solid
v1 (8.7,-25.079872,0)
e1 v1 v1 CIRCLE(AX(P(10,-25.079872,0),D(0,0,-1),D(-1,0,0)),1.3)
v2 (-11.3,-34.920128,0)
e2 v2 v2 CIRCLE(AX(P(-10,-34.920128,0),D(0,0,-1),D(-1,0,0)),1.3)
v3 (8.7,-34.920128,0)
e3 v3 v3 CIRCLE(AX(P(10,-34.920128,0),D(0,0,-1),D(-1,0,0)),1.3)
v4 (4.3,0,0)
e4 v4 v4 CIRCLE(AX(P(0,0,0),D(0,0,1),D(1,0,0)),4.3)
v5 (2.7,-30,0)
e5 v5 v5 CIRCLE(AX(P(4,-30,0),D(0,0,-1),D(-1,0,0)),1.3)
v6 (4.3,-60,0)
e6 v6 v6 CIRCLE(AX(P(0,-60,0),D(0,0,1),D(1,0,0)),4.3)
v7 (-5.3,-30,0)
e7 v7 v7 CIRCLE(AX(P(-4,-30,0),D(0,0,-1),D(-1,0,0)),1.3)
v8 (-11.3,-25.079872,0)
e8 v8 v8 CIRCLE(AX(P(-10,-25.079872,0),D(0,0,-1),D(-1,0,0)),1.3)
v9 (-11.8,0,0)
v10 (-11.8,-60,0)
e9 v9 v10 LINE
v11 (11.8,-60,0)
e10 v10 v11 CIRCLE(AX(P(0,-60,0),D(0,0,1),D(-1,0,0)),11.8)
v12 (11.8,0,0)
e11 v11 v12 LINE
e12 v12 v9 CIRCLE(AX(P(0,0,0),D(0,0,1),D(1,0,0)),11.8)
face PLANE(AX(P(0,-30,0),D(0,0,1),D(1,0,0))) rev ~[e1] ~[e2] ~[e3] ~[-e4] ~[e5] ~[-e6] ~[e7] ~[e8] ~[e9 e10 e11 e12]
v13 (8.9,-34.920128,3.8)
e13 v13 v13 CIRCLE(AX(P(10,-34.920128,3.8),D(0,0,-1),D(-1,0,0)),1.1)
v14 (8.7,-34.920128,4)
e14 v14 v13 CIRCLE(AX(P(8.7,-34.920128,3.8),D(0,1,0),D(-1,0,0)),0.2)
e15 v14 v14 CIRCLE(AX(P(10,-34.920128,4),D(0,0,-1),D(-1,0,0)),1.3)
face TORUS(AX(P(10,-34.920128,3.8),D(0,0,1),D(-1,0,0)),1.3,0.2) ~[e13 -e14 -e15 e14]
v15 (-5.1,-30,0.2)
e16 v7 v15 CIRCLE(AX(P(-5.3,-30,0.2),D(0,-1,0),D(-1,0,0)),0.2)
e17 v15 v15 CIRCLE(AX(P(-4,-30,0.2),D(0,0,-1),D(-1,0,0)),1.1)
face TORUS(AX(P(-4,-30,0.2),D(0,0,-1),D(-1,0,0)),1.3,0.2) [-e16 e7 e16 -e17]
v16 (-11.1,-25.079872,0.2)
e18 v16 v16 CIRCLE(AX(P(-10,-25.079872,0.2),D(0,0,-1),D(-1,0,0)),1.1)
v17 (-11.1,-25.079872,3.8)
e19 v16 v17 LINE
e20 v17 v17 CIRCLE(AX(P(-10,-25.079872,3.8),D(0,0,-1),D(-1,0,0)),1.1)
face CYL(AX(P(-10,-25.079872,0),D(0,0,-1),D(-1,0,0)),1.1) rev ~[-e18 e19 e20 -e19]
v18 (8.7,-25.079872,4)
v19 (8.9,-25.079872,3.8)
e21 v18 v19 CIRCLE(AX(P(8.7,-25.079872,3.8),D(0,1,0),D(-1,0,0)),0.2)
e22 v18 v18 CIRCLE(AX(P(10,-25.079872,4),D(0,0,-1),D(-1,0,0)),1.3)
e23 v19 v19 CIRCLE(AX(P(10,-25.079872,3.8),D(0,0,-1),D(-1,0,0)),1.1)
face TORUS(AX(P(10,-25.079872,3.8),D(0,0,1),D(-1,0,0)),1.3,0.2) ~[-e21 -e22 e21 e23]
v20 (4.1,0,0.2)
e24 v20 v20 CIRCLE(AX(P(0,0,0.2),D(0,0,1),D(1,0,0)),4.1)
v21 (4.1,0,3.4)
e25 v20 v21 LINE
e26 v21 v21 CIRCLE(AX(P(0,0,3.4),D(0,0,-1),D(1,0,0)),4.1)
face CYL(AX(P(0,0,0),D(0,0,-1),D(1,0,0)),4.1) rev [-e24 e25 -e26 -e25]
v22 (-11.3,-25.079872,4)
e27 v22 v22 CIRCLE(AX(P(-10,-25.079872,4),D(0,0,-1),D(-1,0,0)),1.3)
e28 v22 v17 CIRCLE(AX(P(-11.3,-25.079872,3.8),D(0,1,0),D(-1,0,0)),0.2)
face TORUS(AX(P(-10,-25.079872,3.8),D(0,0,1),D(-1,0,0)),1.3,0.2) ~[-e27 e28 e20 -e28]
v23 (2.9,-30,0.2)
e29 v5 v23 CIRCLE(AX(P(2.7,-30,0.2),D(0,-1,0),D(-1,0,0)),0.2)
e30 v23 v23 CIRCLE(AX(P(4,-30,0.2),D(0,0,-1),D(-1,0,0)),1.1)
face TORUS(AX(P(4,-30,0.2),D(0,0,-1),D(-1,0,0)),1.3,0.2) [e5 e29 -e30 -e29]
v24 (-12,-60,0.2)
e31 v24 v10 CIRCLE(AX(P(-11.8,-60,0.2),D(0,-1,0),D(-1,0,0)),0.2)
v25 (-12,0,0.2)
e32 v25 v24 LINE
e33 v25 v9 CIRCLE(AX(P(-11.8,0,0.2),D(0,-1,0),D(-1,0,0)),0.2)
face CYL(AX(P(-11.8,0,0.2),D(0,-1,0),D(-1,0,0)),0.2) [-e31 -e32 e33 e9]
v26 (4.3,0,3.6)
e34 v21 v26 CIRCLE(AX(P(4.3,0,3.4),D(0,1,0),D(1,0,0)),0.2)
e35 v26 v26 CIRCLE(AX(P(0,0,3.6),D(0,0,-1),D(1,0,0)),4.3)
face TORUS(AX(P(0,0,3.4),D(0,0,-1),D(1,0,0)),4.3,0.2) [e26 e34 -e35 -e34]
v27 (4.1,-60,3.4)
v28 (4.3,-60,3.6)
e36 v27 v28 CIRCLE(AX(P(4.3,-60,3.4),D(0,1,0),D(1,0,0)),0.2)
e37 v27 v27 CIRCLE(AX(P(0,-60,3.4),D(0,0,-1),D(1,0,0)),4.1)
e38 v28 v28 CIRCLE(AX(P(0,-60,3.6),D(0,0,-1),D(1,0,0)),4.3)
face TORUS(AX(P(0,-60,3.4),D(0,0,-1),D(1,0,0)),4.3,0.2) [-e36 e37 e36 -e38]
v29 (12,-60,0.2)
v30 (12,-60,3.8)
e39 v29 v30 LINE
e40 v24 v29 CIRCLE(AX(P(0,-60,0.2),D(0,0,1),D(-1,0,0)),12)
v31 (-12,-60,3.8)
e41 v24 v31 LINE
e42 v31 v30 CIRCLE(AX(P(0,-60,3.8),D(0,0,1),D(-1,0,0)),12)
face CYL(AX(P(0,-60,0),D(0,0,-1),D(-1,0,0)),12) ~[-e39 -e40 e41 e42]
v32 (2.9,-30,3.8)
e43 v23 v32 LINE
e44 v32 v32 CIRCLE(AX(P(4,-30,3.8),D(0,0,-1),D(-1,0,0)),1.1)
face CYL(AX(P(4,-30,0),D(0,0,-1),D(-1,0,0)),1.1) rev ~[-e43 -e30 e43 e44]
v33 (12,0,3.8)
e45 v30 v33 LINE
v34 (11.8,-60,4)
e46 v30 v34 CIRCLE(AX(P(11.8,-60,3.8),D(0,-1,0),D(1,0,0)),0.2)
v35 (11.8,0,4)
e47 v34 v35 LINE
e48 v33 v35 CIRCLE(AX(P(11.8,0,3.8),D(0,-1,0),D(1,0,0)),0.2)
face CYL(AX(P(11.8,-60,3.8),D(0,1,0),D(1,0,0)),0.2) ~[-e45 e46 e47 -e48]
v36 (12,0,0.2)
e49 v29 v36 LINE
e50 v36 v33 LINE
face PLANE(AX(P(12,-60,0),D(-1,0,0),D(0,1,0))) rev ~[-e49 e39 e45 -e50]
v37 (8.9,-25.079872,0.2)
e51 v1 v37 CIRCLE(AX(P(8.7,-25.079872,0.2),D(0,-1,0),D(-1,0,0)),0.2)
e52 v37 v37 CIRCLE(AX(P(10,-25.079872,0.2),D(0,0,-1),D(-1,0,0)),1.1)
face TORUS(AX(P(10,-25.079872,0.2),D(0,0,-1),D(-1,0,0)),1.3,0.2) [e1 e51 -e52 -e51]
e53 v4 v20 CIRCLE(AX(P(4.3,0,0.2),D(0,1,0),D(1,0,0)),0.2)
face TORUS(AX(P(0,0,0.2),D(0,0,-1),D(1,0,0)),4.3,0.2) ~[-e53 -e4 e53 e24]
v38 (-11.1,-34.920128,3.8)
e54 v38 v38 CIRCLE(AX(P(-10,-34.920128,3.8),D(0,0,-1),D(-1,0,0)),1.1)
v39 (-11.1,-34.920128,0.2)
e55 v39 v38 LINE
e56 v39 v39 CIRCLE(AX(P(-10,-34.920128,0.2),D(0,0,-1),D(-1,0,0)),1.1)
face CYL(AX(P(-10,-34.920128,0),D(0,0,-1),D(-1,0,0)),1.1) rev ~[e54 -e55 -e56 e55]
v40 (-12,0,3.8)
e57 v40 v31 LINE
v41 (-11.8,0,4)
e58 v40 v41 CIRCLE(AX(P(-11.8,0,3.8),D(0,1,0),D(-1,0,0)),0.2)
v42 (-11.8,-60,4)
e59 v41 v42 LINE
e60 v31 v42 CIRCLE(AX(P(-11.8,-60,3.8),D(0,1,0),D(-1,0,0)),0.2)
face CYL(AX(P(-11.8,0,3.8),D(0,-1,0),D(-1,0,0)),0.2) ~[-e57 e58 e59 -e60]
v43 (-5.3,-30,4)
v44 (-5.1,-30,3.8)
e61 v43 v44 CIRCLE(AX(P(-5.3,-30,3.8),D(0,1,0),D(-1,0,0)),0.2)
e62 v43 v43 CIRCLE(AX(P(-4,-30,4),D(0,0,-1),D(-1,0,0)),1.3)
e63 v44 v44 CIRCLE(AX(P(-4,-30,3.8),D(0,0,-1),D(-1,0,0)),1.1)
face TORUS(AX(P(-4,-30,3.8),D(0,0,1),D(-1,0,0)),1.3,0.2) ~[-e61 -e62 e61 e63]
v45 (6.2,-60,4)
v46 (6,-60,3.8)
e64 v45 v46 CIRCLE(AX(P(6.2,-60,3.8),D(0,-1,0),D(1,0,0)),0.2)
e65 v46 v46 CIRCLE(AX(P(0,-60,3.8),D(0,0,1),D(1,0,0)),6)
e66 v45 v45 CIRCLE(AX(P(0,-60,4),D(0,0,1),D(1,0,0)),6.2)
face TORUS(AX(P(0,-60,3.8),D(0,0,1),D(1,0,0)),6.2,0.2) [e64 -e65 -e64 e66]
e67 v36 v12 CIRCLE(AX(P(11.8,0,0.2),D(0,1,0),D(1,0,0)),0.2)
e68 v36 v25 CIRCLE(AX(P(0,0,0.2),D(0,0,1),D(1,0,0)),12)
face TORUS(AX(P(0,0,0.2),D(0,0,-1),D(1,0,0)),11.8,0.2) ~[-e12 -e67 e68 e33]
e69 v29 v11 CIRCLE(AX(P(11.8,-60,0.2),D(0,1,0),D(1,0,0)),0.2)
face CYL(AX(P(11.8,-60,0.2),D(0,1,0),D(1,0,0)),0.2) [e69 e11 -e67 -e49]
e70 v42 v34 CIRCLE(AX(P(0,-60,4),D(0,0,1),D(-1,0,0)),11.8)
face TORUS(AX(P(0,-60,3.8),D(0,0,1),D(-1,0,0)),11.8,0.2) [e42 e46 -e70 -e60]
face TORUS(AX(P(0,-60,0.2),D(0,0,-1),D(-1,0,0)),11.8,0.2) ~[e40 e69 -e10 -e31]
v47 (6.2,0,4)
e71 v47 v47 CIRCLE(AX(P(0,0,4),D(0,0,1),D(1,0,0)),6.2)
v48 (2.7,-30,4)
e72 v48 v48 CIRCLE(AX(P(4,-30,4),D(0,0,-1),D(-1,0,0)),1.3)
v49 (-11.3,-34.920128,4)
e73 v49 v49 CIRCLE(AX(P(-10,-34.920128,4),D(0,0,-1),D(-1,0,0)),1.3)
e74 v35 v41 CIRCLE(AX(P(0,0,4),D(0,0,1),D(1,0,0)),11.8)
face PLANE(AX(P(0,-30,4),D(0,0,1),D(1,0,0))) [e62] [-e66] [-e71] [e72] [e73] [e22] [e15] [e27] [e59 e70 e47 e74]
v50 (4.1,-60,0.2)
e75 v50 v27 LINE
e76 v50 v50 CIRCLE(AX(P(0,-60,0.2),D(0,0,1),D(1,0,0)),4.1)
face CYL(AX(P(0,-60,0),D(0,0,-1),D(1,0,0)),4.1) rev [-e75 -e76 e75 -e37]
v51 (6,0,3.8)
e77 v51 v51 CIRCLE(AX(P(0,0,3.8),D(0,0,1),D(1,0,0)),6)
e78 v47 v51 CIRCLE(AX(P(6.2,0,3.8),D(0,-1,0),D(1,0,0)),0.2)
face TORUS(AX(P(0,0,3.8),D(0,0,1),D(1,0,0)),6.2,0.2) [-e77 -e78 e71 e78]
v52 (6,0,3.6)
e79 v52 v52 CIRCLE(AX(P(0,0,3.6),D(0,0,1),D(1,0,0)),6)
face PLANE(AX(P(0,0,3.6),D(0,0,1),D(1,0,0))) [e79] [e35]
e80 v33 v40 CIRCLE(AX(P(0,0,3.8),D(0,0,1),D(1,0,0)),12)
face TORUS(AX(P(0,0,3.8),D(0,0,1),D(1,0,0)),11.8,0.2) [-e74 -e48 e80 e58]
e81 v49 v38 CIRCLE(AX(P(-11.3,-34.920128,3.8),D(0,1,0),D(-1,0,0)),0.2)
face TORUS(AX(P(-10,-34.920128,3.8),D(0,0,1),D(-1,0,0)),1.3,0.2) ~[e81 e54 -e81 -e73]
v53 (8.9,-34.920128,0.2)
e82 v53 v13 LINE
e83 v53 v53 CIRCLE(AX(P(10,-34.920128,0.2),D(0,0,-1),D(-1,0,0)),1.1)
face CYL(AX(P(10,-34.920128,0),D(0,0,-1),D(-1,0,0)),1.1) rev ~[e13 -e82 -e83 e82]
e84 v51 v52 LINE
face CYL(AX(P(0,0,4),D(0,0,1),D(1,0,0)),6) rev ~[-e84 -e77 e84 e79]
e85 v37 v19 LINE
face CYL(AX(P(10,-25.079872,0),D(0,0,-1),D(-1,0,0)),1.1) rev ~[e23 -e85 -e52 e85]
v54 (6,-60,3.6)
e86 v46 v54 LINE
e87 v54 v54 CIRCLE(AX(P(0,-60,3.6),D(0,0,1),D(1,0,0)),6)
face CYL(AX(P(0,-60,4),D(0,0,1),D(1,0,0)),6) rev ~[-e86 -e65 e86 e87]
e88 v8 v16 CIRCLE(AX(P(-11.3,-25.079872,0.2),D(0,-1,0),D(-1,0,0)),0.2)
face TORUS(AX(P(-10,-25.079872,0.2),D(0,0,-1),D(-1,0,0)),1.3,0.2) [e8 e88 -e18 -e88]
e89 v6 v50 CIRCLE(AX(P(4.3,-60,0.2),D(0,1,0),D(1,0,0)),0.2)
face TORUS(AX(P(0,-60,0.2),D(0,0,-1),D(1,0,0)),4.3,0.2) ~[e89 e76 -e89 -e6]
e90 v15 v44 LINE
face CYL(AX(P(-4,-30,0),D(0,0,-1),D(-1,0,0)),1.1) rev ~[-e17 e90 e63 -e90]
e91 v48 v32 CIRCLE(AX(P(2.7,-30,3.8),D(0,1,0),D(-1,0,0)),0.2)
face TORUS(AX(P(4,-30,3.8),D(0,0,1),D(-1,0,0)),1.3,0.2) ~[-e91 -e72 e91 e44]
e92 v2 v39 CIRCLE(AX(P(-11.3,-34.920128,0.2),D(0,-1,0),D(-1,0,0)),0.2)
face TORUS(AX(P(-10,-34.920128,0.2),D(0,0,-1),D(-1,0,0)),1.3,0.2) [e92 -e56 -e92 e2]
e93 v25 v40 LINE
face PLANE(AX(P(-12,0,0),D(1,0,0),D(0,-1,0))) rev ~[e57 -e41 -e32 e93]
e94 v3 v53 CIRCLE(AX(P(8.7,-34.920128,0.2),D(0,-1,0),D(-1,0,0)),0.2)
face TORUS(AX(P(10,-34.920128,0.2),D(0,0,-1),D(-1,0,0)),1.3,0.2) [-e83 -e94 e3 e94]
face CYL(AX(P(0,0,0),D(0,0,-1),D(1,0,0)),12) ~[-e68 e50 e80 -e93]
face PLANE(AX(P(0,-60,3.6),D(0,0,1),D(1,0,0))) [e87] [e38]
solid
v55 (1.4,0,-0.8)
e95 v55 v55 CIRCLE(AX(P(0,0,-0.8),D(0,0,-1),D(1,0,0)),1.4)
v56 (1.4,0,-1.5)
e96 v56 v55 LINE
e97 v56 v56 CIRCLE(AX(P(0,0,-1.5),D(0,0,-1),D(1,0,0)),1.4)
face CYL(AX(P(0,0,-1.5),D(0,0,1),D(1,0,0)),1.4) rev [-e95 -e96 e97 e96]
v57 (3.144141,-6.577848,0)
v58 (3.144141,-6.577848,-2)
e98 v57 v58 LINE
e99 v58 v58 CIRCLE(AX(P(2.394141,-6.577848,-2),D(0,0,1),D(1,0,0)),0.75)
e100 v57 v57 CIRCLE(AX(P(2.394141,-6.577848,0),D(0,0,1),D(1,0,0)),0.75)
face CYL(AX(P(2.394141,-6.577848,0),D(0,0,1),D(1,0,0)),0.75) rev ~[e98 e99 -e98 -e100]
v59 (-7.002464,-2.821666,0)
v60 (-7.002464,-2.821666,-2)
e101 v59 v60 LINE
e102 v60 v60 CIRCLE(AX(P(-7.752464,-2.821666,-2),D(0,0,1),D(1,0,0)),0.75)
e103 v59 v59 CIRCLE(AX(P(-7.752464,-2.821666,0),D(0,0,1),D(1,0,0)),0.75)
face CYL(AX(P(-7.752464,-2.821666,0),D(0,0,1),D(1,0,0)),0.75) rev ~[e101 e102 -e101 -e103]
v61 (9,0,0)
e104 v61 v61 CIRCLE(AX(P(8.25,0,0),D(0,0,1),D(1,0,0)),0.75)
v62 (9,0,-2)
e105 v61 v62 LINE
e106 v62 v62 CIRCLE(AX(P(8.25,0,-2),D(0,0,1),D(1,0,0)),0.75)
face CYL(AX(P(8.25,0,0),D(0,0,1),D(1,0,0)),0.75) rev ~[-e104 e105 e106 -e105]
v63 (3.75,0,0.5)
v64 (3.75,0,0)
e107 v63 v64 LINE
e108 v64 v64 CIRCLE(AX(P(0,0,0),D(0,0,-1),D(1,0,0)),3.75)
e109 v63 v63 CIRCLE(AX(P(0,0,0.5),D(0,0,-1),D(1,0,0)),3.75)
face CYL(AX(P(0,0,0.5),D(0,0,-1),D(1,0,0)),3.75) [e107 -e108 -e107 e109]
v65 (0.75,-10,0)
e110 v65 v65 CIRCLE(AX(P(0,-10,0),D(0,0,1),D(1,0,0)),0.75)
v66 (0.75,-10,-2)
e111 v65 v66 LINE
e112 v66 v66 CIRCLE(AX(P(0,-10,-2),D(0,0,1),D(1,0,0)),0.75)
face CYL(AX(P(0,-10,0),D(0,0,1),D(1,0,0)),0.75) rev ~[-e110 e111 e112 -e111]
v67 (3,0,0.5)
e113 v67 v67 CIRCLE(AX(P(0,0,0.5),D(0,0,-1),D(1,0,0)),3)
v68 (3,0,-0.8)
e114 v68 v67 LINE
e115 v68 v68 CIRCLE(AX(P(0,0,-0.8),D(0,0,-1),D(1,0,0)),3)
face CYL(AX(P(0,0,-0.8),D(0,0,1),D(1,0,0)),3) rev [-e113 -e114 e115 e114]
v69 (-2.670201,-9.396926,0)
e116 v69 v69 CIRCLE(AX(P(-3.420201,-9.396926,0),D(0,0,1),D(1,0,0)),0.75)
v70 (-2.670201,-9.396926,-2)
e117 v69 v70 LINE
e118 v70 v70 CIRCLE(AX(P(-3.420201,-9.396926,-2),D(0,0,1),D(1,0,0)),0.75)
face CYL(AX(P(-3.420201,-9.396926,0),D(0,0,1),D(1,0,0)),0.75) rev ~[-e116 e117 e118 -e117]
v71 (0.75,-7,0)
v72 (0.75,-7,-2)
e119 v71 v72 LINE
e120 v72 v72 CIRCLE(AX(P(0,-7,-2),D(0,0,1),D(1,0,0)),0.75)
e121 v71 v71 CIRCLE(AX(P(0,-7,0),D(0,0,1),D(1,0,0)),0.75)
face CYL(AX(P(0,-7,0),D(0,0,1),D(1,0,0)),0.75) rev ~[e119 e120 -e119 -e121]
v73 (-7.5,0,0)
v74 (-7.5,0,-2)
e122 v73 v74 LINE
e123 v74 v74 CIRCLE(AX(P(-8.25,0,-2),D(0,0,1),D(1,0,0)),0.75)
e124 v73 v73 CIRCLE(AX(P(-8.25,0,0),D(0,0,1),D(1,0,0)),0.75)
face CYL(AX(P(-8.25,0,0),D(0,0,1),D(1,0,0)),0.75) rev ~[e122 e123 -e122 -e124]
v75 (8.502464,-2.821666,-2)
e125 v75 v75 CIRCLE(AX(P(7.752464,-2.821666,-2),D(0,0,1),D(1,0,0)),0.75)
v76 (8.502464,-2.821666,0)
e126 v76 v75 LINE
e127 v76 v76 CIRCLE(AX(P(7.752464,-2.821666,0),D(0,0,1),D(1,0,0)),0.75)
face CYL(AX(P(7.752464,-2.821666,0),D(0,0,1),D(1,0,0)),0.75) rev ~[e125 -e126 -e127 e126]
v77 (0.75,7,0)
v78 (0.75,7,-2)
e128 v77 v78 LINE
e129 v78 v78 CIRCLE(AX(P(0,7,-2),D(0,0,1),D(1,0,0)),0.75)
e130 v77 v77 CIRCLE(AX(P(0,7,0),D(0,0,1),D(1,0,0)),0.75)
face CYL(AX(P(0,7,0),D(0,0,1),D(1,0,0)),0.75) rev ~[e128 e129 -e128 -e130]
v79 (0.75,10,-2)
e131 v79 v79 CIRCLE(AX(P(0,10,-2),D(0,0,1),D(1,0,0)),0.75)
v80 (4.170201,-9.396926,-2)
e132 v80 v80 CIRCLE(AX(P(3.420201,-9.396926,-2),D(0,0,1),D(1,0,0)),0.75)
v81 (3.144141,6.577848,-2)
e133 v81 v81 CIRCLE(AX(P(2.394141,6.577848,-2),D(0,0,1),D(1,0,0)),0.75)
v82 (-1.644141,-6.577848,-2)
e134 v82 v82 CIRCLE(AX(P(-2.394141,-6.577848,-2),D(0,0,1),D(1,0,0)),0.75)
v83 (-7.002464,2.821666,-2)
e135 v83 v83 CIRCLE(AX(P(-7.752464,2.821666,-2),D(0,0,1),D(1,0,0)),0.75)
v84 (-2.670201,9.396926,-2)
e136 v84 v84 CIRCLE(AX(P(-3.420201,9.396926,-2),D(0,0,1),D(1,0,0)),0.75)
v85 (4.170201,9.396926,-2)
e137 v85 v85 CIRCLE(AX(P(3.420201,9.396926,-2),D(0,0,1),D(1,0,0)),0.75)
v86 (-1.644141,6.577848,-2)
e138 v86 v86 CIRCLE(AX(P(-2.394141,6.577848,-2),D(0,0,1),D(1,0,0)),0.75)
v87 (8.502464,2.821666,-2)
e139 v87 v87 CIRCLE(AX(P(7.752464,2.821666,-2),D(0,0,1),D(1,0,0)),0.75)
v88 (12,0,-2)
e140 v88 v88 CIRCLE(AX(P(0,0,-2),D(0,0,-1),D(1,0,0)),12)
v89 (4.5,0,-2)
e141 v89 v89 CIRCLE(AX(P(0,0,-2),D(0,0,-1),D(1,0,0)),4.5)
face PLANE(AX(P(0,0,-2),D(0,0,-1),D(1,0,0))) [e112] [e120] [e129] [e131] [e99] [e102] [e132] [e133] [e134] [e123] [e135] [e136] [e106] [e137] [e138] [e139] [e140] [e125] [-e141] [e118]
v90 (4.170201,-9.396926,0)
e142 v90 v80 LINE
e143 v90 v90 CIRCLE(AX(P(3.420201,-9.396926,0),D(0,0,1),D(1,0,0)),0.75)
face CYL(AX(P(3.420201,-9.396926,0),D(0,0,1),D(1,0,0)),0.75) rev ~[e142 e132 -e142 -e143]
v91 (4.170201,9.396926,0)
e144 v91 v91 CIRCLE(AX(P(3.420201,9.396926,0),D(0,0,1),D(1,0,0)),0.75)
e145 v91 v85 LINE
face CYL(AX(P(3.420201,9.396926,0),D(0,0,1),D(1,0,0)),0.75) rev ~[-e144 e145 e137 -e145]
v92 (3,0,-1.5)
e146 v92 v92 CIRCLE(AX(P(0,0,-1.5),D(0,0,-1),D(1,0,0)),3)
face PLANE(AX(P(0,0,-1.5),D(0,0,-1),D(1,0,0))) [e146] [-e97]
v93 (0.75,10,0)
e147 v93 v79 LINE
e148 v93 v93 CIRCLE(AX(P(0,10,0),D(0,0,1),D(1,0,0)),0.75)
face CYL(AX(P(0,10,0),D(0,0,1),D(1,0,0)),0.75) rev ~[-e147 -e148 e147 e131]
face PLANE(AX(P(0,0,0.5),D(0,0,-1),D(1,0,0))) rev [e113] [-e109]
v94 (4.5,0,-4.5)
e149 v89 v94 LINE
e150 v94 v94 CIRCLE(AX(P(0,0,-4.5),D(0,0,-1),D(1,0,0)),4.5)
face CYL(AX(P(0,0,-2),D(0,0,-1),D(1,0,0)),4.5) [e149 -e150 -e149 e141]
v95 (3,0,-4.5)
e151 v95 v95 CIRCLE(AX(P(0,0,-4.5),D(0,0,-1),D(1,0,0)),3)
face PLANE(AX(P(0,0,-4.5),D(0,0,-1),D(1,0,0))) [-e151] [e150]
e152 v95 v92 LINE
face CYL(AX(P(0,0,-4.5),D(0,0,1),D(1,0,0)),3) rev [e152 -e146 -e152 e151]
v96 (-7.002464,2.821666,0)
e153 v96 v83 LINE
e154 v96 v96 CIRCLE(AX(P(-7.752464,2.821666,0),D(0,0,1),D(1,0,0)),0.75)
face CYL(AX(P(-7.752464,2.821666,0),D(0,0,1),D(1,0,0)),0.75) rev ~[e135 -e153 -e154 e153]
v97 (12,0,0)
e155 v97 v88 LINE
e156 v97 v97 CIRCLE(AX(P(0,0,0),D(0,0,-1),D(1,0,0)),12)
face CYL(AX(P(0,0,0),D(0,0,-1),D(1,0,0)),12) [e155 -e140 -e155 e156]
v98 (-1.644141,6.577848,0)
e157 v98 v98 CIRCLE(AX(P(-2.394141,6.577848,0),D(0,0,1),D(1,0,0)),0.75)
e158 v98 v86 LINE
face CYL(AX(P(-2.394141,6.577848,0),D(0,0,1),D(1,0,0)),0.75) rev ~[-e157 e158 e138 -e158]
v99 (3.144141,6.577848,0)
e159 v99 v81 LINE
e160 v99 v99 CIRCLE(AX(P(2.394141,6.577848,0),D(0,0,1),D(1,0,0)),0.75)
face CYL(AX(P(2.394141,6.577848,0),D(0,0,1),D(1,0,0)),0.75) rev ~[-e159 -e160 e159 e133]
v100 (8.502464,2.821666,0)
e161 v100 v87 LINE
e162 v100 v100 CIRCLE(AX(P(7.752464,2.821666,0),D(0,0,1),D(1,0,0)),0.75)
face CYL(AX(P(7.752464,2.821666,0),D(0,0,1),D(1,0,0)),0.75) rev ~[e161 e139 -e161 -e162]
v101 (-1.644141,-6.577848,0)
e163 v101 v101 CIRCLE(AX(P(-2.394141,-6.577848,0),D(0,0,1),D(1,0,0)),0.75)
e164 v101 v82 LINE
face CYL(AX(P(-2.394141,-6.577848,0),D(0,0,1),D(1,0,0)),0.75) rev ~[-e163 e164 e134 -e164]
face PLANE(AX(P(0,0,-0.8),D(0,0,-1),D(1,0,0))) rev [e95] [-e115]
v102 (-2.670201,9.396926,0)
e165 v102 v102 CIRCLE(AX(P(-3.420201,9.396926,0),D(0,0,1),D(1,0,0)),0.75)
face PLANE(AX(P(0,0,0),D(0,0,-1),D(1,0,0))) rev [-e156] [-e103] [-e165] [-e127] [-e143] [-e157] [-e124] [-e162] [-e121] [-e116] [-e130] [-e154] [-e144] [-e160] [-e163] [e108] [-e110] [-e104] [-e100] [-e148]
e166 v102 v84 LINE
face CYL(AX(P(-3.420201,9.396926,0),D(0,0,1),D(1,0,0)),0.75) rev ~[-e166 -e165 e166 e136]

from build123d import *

# Parameters (mm, degrees)
SKETCH_2_R            = 0.75
CUT_EXTRUDE_1_DEPTH   = 18.557049866
SKETCH_1_2_R          = 4.1
EXTRUDE_1_DEPTH       = 4
SKETCH_2_2_R          = 1.1
CUT_EXTRUDE_1_2_DEPTH = 74.131730459
SKETCH_3_R            = 6
CUT_EXTRUDE_2_DEPTH   = 0.4
FILLET_1_R            = 0.2


with BuildPart() as part:
    # Sketch 1 → Повернуть1 (revolve)
    with BuildSketch(Plane(origin=(0, 0, 0), x_dir=(0, 0, -1), z_dir=(1, 0, 0)), mode=Mode.PRIVATE) as revolve_1_sk:
        Polygon((0, 3.75), (0, 12), (2, 12), (2, 4.5), (4.5, 4.5), (4.5, 3), (1.5, 3), (1.5, 1.4), (0.8, 1.4), (0.8, 3), (-0.5, 3), (-0.5, 3.75), align=None)
    revolve(revolve_1_sk.sketch.rotate(Axis((0, 0, 50), (0, 0, -1)), 90), axis=Axis((0, 0, 50), (0, 0, -1)))

    # Sketch 2 → Cut-Extrude 1 (cut, through all)
    with BuildSketch(Plane.XY):
        with Locations((8.25, 0)):
            Circle(SKETCH_2_R)
        with Locations((7.752464121, -2.821666182)):
            Circle(SKETCH_2_R)
        with Locations((7.752464121, 2.821666182)):
            Circle(SKETCH_2_R)
        with Locations((-8.25, 0)):
            Circle(SKETCH_2_R)
        with Locations((-7.752464121, -2.821666182)):
            Circle(SKETCH_2_R)
        with Locations((-7.752464121, 2.821666182)):
            Circle(SKETCH_2_R)
        with Locations((0, 7)):
            Circle(SKETCH_2_R)
        with Locations((0, 10)):
            Circle(SKETCH_2_R)
        with Locations((2.394141003, 6.577848346)):
            Circle(SKETCH_2_R)
        with Locations((3.420201433, 9.396926208)):
            Circle(SKETCH_2_R)
        with Locations((-2.394141003, 6.577848346)):
            Circle(SKETCH_2_R)
        with Locations((-3.420201433, 9.396926208)):
            Circle(SKETCH_2_R)
        with Locations((0, -7)):
            Circle(SKETCH_2_R)
        with Locations((0, -10)):
            Circle(SKETCH_2_R)
        with Locations((3.420201433, -9.396926208)):
            Circle(SKETCH_2_R)
        with Locations((2.394141003, -6.577848346)):
            Circle(SKETCH_2_R)
        with Locations((-2.394141003, -6.577848346)):
            Circle(SKETCH_2_R)
        with Locations((-3.420201433, -9.396926208)):
            Circle(SKETCH_2_R)
    extrude(amount=-CUT_EXTRUDE_1_DEPTH, mode=Mode.SUBTRACT)


with BuildPart() as body_2:
    # Sketch 1 2 → 보스-돌출1 (new body)
    with BuildSketch(Plane.XY):
        with BuildLine():
            Line((-12, 0), (-12, -60))
            ThreePointArc((-12, -60), (0, -72), (12, -60))
            Line((12, -60), (12, 0))
            ThreePointArc((12, 0), (0, 12), (-12, 0))
        make_face()
        Circle(SKETCH_1_2_R, mode=Mode.SUBTRACT)
        with Locations((0, -60)):
            Circle(SKETCH_1_2_R, mode=Mode.SUBTRACT)
    extrude(amount=EXTRUDE_1_DEPTH)

    # Sketch 2 2 → Cut-Extrude 1 2 (cut, through all)
    with BuildSketch(Plane(origin=(0, 0, 0), x_dir=(-1, 0, 0), z_dir=(0, 0, -1))):
        with Locations((-10, -25.079872408)):
            Circle(SKETCH_2_2_R)
        with Locations((-4, -30)):
            Circle(SKETCH_2_2_R)
        with Locations((4, -30)):
            Circle(SKETCH_2_2_R)
        with Locations((10, -25.079872408)):
            Circle(SKETCH_2_2_R)
        with Locations((10, -34.920127592)):
            Circle(SKETCH_2_2_R)
        with Locations((-10, -34.920127592)):
            Circle(SKETCH_2_2_R)
    extrude(amount=-CUT_EXTRUDE_1_2_DEPTH, mode=Mode.SUBTRACT)

    # 스케치3 → 컷-돌출2 (cut)
    with BuildSketch(Plane.XY.offset(4)):
        Circle(SKETCH_3_R)
        with Locations((0, -60)):
            Circle(SKETCH_3_R)
    extrude(amount=-CUT_EXTRUDE_2_DEPTH, mode=Mode.SUBTRACT)

    # 필렛1
    fillet_1_edges = [body_2.edges().sort_by_distance(p)[0] for p in [
        (0, 12, 0),
        (12, -30, 0),
        (0, 12, 4),
        (-12, -30, 4),
        (0, -72, 4),
        (11.1, -34.920127592, 4),
        (11.1, -34.920127592, 0),
        (5.1, -30, 4),
        (5.1, -30, 0),
        (-2.9, -30, 4),
        (-2.9, -30, 0),
        (-8.9, -25.079872408, 4),
        (-8.9, -25.079872408, 0),
        (-8.9, -34.920127592, 4),
        (-8.9, -34.920127592, 0),
        (11.1, -25.079872408, 4),
        (11.1, -25.079872408, 0),
        (-4.1, 0, 3.6),
        (-6, 0, 4),
        (-6, -60, 4),
        (-4.1, -60, 3.6),
        (12, -30, 4),
        (-4.1, 0, 0),
        (-4.1, -60, 0),
        (0, -72, 0),
        (-12, -30, 0),
    ]]
    fillet(fillet_1_edges, radius=FILLET_1_R)


solid = Compound([part.part, body_2.part])
